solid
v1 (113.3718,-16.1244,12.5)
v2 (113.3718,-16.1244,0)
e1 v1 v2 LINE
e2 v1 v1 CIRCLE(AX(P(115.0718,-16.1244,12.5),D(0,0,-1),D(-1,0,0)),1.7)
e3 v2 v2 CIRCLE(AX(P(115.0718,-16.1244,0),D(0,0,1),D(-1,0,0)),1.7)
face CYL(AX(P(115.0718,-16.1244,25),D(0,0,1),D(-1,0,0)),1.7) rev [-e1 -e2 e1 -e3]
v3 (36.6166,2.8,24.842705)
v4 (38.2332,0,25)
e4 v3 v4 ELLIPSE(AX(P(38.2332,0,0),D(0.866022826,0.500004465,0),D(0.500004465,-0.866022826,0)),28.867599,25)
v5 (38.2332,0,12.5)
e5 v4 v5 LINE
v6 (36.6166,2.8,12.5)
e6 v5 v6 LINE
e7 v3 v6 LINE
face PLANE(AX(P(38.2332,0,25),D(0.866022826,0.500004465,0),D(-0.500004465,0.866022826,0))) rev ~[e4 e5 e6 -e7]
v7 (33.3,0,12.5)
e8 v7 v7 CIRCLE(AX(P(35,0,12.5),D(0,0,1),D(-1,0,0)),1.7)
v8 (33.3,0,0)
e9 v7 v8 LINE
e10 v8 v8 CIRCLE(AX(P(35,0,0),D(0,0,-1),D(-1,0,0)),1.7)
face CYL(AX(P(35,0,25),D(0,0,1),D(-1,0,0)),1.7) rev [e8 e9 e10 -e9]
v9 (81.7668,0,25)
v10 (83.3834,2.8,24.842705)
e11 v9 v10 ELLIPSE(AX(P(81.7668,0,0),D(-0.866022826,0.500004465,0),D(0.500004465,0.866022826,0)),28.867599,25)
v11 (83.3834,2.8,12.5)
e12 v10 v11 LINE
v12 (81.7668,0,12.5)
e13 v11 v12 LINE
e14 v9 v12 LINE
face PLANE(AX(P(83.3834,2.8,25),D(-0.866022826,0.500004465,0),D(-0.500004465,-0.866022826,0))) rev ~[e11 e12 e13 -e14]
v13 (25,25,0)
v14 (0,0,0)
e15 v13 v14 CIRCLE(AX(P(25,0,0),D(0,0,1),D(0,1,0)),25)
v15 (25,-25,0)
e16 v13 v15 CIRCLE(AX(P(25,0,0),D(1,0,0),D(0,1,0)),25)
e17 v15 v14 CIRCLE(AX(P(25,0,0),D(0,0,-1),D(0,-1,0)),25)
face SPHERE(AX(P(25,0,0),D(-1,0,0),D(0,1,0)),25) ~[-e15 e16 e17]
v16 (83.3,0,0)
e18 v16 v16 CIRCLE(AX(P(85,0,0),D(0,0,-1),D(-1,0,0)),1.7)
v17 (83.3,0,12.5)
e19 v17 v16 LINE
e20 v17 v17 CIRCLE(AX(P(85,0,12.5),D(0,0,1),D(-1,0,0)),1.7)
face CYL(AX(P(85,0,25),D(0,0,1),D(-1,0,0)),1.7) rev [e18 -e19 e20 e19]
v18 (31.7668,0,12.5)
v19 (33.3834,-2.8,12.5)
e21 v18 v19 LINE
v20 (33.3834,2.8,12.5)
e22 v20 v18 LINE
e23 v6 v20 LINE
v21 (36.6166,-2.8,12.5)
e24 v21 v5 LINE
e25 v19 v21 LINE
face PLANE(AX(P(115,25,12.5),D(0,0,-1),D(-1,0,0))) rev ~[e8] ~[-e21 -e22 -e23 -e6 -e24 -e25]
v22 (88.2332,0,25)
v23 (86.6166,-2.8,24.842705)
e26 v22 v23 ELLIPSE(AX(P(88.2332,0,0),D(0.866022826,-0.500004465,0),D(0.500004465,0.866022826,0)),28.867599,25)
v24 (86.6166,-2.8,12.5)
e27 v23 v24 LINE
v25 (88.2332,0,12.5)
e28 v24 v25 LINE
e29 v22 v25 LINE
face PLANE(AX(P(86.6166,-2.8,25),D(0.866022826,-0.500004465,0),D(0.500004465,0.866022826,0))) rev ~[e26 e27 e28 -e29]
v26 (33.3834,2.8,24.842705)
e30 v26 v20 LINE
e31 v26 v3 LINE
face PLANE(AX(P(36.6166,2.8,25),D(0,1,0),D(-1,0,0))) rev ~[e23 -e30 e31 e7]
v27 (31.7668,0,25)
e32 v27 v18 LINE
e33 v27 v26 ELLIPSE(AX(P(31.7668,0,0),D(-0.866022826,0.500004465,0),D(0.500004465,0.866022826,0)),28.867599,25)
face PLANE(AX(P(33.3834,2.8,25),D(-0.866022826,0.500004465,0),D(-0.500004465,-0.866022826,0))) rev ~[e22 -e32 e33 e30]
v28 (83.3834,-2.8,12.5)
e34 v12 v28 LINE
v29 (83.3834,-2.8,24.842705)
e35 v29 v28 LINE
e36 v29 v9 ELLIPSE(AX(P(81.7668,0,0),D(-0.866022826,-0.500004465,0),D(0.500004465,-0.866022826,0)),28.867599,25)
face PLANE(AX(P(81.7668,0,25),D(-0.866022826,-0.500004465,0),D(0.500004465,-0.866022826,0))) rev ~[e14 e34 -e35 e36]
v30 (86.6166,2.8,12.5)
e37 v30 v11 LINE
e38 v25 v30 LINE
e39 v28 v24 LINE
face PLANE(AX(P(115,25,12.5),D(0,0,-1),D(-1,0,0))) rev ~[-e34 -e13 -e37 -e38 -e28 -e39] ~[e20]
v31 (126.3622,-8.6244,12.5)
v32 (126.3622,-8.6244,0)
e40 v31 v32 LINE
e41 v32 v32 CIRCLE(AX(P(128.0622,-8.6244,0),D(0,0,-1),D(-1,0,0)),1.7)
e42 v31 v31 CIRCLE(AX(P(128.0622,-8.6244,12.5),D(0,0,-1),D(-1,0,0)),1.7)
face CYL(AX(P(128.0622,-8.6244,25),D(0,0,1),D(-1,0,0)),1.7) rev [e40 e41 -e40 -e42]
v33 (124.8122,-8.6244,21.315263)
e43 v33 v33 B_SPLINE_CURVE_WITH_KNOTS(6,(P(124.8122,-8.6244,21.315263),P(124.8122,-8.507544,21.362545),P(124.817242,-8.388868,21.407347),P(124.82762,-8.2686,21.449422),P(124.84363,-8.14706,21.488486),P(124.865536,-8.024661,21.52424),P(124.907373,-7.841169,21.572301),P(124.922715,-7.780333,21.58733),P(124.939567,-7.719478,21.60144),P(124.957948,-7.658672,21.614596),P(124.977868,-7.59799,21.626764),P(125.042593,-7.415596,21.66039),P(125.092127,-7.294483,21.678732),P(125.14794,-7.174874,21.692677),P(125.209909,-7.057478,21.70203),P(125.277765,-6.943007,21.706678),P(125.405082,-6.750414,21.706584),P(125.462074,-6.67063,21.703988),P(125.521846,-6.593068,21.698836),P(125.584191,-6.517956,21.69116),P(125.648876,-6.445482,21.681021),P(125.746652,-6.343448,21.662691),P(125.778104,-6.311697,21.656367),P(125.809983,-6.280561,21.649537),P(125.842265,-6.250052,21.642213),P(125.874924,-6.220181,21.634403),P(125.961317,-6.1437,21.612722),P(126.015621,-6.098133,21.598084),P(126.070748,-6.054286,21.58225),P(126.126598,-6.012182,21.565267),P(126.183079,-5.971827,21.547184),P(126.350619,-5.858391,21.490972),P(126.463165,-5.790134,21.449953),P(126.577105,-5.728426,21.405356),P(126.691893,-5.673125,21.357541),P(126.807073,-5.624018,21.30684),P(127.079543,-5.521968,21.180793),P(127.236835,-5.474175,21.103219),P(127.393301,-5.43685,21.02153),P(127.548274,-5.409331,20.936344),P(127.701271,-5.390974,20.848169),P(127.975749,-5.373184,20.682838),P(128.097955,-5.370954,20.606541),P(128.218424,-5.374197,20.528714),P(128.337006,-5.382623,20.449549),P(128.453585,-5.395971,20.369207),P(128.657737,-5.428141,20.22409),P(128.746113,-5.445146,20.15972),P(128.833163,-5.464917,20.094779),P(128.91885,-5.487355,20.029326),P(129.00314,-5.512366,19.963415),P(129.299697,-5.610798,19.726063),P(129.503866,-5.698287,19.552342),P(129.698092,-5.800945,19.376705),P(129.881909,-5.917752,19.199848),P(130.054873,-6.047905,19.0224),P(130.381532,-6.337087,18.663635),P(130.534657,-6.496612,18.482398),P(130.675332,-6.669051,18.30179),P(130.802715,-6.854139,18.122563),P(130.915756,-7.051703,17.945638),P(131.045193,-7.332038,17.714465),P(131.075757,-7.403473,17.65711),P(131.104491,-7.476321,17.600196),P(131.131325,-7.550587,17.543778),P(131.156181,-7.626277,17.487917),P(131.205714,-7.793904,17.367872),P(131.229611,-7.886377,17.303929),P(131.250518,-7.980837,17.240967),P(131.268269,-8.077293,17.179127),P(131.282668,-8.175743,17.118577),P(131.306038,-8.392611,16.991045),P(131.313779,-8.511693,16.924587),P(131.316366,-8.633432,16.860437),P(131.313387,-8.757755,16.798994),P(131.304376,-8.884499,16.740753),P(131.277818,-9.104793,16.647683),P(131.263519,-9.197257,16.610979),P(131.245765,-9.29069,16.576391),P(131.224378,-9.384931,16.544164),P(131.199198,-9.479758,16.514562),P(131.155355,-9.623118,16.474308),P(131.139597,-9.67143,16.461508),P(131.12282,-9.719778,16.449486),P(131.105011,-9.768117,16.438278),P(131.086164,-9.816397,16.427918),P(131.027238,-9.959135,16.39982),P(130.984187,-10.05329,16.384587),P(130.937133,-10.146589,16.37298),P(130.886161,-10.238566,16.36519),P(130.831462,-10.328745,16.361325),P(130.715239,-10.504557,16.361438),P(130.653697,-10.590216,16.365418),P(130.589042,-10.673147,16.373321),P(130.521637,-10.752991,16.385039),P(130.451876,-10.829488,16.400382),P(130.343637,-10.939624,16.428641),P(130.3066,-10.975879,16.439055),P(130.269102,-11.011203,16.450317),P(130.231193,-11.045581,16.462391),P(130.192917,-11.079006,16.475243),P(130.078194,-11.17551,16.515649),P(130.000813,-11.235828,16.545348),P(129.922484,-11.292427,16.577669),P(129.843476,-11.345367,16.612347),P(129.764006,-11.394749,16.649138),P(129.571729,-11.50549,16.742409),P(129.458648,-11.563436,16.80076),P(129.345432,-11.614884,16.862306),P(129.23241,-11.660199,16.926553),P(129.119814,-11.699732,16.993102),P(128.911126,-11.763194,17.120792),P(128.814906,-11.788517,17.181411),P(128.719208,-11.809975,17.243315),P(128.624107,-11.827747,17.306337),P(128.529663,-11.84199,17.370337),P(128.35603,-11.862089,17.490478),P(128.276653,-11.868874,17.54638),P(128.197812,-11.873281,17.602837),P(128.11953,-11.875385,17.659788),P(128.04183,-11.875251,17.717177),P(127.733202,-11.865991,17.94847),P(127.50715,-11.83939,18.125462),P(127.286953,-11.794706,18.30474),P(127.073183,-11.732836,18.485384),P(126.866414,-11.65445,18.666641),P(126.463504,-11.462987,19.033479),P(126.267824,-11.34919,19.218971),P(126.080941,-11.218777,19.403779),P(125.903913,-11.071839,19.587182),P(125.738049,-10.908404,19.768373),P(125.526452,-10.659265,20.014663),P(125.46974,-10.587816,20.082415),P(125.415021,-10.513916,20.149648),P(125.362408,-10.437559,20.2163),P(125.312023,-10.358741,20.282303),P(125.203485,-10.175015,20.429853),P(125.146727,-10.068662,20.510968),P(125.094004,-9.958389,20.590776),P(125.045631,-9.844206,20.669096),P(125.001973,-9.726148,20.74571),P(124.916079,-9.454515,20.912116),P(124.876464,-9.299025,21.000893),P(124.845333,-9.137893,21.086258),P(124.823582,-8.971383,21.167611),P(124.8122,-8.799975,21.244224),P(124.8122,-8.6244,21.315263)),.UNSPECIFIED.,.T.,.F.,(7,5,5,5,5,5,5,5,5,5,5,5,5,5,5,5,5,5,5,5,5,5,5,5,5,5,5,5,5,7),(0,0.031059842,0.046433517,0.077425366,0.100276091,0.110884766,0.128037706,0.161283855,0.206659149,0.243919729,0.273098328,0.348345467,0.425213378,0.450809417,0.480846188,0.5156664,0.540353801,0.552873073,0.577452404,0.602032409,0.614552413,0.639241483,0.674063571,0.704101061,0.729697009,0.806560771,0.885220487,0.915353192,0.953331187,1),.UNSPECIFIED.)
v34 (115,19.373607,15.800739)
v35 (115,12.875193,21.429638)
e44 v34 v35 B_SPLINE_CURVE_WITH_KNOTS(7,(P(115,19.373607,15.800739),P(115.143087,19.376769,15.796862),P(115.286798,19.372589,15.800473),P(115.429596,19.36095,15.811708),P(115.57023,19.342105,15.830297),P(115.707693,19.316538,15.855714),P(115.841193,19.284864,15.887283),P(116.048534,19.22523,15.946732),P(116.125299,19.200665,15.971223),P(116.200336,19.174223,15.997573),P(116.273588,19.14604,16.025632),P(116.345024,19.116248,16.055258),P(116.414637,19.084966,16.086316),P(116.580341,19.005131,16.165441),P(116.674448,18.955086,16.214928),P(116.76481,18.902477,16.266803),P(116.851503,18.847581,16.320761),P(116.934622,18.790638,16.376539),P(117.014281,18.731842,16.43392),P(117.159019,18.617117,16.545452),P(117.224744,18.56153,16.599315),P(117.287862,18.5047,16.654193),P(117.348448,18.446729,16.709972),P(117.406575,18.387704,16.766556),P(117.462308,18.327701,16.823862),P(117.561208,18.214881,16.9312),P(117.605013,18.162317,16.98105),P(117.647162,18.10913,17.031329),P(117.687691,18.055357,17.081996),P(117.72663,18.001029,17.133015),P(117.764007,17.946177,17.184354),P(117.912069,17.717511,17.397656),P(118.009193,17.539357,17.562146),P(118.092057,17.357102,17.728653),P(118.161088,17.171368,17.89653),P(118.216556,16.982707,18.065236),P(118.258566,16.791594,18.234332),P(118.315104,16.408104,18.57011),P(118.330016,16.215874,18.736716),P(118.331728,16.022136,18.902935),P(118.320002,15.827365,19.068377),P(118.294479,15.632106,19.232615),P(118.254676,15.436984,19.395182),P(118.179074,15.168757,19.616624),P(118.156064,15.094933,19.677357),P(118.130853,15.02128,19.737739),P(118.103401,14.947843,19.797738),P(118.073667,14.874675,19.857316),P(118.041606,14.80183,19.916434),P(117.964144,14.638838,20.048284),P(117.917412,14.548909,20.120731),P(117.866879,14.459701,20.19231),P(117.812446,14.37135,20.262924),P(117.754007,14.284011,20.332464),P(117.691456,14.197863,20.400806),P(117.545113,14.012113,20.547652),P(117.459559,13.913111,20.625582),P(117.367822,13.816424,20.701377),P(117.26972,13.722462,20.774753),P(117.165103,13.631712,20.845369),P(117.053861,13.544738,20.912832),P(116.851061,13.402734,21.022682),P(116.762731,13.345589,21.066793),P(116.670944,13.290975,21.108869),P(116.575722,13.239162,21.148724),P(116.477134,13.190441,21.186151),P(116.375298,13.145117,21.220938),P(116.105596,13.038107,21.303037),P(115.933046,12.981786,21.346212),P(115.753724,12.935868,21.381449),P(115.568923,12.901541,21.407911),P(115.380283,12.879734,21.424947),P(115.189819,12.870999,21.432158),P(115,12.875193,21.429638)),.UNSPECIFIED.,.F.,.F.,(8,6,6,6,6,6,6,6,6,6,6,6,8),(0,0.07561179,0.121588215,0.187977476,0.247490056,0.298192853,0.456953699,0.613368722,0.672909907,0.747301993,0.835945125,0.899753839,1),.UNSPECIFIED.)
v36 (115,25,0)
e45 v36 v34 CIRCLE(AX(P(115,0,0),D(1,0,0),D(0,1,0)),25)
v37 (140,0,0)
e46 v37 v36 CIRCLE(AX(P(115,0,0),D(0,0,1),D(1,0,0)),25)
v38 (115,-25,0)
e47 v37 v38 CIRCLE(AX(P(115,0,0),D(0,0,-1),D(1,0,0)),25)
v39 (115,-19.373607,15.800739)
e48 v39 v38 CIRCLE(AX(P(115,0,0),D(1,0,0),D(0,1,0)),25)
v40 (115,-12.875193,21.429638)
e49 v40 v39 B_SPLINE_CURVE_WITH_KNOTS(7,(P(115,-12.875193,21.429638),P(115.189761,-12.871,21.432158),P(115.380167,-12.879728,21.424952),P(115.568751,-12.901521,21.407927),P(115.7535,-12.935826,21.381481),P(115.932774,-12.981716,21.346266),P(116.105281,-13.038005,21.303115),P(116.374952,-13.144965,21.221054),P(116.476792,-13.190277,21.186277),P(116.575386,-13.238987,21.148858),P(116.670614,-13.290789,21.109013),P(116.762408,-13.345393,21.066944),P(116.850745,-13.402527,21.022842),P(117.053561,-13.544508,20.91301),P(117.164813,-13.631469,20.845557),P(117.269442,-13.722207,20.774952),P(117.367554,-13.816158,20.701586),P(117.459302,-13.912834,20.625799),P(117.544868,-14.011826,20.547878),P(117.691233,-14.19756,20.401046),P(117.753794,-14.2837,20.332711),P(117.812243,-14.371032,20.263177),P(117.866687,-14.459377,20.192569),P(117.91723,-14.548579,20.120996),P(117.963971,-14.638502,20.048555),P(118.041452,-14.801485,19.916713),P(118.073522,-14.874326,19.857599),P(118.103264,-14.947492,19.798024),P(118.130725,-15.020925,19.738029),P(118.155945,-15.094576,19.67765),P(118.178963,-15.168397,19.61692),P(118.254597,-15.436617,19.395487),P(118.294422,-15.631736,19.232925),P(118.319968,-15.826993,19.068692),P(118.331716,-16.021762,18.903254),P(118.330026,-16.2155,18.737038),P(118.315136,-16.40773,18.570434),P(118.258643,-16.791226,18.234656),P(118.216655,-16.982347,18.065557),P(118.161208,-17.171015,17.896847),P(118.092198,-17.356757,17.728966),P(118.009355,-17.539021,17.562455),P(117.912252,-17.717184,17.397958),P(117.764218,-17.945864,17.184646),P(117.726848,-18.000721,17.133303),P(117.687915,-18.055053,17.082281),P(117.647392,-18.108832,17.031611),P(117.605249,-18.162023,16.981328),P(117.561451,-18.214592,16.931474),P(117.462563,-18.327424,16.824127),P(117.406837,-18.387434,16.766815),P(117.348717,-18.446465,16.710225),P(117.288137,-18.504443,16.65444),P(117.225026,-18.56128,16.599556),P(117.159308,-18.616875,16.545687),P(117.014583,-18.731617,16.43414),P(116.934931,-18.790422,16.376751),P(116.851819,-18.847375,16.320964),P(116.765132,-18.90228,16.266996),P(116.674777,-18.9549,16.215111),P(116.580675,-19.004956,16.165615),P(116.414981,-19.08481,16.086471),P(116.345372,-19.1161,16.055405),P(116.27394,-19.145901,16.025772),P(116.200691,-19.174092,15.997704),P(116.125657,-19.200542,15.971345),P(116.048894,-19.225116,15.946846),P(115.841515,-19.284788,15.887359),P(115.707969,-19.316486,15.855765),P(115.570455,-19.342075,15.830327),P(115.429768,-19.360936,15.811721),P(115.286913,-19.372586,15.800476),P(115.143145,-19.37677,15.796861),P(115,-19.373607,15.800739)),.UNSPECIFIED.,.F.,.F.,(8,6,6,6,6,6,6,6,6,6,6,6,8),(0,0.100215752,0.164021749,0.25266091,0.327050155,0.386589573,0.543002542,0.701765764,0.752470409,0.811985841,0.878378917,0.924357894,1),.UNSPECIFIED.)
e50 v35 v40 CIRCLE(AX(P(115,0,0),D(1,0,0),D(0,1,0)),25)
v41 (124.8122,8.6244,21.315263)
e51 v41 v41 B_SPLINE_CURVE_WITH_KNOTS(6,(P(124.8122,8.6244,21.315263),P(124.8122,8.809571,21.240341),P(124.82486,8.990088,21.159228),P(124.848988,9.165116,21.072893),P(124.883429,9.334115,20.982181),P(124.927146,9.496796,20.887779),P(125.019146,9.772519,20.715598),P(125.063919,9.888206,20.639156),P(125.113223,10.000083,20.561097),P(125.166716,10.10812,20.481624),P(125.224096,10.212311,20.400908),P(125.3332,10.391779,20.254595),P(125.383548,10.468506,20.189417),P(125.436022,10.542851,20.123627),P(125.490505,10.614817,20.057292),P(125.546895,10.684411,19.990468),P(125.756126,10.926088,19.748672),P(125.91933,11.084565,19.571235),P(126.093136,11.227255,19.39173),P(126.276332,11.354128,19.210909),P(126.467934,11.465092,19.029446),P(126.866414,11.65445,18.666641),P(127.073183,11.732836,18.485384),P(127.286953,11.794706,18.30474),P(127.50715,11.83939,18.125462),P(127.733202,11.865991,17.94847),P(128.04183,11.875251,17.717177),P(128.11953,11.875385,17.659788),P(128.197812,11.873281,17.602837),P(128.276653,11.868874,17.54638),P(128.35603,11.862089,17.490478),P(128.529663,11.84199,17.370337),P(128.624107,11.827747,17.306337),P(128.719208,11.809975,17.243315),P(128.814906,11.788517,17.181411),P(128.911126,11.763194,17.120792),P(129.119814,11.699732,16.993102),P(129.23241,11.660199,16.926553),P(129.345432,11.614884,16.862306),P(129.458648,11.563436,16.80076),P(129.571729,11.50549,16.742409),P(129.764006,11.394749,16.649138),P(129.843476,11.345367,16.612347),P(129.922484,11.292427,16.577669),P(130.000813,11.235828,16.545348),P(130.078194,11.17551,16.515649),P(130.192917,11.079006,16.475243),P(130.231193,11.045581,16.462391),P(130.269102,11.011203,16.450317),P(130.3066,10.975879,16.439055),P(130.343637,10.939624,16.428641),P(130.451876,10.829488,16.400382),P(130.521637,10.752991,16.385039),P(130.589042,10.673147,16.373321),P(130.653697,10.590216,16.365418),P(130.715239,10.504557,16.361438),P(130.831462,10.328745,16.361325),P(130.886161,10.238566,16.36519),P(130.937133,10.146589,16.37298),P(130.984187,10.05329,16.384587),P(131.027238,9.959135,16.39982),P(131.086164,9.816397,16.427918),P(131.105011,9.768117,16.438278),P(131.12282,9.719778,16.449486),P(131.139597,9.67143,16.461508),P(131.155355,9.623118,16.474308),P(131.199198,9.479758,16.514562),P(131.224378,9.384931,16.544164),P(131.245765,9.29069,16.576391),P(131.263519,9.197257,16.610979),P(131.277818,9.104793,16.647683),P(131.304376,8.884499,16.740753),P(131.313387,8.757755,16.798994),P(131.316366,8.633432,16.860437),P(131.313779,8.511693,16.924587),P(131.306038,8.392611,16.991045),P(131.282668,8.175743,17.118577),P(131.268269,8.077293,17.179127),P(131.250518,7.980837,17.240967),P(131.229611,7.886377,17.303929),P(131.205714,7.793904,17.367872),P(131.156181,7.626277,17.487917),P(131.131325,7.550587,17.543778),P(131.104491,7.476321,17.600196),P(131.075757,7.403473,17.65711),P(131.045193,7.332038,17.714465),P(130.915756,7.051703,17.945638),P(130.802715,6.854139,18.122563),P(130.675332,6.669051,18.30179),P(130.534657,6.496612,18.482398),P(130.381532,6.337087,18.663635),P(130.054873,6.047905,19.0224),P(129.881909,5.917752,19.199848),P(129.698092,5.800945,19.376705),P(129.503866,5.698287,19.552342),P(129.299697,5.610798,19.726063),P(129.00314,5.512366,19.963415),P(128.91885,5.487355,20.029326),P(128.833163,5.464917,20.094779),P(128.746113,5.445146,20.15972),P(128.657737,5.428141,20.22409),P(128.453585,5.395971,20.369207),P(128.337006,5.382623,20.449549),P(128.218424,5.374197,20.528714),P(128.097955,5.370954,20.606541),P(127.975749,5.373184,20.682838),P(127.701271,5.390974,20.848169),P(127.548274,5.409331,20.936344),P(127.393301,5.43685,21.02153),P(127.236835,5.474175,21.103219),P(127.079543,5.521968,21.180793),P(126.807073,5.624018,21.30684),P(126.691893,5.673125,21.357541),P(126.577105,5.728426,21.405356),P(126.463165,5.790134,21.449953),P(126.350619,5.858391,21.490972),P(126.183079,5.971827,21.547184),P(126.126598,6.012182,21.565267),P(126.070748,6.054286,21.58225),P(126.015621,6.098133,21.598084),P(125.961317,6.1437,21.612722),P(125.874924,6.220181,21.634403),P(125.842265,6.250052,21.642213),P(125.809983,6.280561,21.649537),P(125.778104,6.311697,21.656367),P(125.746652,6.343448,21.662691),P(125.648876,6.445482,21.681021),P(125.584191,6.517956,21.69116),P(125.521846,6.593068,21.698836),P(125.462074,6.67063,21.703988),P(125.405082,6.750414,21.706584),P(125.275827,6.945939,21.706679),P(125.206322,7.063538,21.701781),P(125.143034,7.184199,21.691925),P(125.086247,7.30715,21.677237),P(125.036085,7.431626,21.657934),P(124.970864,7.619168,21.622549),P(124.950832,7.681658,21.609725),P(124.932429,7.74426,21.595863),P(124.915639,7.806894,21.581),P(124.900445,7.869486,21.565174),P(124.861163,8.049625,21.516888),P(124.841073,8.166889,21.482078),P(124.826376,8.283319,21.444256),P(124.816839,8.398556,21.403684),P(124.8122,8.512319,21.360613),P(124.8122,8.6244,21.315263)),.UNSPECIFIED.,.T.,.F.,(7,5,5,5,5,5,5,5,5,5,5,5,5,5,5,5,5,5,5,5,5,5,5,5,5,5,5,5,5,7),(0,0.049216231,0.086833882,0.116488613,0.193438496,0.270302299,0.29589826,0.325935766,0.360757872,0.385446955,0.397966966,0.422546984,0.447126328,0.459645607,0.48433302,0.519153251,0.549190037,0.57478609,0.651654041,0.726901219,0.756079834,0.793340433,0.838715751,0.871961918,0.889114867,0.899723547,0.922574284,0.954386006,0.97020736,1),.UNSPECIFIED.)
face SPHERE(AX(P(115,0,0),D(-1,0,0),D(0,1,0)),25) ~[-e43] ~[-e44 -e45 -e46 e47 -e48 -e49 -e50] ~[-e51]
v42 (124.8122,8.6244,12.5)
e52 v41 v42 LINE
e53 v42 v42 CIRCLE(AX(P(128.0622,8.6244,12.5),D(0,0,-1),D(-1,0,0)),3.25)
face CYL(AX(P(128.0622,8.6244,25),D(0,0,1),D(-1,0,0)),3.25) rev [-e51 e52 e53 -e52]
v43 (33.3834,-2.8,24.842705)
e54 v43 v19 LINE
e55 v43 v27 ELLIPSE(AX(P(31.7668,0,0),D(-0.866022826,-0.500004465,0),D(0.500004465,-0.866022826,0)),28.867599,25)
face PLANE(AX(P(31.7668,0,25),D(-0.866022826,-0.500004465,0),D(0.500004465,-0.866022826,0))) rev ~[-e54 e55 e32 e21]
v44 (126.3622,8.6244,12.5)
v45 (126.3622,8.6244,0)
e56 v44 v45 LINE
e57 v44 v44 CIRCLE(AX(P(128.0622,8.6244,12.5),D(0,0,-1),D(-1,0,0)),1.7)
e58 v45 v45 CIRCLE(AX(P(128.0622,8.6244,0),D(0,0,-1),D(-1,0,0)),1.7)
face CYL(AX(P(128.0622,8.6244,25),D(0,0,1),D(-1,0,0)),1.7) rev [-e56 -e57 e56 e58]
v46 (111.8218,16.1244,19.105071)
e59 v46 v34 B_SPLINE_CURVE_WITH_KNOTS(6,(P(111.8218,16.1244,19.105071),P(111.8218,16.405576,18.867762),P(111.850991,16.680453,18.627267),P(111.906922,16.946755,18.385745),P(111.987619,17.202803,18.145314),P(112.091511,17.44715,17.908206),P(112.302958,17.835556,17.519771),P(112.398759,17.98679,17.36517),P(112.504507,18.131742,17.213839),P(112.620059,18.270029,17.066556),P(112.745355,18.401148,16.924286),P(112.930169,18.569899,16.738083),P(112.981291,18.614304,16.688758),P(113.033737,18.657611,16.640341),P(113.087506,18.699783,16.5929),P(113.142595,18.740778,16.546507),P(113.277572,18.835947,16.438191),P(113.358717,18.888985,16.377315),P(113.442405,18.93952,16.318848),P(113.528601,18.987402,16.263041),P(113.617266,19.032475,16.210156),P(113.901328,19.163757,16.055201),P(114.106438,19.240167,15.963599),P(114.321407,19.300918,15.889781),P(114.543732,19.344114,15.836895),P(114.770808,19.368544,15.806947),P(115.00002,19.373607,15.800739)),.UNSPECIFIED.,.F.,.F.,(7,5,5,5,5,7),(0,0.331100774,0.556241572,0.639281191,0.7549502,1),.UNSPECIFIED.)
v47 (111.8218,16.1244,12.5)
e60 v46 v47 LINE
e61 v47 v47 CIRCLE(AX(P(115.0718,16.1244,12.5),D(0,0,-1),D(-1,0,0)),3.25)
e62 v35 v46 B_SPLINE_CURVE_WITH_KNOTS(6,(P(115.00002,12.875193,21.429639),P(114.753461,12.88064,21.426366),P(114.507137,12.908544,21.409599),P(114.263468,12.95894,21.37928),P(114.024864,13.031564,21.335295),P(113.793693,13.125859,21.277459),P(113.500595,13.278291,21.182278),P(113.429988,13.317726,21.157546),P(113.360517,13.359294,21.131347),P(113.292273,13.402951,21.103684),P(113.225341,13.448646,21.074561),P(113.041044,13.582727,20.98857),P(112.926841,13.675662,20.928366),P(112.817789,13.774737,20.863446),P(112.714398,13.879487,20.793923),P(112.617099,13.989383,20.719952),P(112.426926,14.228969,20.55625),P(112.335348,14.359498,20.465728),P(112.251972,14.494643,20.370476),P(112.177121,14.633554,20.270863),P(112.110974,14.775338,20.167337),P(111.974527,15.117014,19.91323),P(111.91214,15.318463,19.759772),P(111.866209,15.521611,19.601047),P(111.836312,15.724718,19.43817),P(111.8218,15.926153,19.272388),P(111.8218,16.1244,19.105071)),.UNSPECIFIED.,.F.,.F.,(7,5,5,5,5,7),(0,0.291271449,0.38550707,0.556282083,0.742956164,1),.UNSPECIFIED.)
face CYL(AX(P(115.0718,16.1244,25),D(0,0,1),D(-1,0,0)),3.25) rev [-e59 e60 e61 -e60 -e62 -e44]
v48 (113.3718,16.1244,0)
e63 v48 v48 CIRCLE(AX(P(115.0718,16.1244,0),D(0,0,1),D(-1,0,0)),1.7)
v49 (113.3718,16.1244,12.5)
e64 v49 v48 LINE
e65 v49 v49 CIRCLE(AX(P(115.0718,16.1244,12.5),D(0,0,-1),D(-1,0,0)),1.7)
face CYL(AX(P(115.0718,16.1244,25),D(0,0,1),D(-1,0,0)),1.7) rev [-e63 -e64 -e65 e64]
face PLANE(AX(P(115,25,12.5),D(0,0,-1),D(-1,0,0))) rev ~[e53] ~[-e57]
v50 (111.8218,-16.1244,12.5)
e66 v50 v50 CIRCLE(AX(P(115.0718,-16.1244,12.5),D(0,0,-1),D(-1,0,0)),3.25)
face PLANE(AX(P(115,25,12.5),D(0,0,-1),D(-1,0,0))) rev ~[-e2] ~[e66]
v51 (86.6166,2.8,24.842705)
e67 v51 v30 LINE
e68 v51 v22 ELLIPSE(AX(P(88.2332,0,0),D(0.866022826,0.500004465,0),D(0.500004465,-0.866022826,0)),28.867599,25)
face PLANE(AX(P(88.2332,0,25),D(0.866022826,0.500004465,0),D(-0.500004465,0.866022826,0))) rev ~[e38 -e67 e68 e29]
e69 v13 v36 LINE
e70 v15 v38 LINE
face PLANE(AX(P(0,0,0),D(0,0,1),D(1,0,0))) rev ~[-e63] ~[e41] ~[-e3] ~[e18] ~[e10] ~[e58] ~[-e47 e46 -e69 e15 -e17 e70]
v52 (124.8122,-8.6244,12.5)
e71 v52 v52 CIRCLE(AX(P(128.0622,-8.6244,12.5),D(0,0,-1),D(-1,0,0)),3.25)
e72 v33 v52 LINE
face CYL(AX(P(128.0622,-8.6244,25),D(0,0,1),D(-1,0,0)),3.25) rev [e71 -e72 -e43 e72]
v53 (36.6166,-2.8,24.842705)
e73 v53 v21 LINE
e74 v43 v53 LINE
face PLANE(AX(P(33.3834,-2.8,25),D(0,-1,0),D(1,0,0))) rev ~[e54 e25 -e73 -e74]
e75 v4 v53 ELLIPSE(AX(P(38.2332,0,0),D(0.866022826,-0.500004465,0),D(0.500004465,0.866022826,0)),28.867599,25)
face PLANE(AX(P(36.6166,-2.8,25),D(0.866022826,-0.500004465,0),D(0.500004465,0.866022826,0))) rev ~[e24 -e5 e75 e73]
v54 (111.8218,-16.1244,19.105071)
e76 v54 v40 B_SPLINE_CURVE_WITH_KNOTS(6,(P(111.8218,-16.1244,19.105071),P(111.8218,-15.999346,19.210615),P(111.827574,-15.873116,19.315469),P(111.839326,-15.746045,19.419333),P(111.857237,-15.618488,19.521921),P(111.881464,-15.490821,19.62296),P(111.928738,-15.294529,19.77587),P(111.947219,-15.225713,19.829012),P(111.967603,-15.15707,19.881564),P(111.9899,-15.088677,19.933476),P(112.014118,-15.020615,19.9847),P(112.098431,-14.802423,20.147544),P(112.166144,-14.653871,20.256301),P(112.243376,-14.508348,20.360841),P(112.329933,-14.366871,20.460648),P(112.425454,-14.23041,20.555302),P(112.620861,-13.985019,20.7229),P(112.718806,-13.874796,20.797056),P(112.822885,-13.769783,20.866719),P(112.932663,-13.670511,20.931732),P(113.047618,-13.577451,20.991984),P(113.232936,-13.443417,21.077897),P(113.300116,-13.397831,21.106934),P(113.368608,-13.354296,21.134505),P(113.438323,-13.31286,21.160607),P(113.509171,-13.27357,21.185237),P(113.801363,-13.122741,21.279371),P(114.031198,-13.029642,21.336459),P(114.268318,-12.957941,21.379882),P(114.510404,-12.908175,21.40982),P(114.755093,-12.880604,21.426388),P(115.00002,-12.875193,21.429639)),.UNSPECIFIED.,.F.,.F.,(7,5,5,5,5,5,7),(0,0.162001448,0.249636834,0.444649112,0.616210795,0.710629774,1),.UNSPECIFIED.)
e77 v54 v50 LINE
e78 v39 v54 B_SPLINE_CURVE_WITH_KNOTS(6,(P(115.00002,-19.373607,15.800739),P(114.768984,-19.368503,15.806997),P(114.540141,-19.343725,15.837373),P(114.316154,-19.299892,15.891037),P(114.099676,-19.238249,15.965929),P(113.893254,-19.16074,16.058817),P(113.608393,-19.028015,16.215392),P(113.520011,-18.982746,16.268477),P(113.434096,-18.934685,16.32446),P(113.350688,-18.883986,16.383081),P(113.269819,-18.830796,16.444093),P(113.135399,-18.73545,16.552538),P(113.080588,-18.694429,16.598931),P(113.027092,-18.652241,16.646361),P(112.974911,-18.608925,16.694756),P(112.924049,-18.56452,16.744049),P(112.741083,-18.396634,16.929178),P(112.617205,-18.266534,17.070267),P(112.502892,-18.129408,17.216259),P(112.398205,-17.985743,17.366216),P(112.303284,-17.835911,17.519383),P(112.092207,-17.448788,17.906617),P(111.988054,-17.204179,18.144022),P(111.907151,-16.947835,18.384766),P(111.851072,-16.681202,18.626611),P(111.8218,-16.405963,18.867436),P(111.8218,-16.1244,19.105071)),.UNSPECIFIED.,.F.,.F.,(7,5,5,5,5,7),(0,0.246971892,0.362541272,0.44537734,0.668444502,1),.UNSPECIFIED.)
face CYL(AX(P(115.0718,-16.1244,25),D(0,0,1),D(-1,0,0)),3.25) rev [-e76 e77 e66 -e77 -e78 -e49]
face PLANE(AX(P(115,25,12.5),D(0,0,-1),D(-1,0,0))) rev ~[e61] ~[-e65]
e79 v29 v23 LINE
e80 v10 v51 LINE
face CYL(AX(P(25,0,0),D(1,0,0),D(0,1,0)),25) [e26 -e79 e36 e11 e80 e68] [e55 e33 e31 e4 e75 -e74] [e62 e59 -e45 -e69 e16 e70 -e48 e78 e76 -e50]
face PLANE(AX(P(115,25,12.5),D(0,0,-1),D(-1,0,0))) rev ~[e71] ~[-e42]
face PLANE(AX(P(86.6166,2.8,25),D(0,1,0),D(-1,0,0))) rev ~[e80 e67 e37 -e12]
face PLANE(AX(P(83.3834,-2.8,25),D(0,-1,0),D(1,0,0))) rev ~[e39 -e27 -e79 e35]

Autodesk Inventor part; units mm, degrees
ref_plane "Plan YZ" through (0, 0, 0) normal (1, 0, 0) x (0, 1, 0)
ref_plane "Plan XZ" through (0, 0, 0) normal (0, 1, 0) x (-1, 0, 0)
sketch "Esquisse1" plane through (0, 0, 0) normal (0, 0, 1) x (1, 0, 0)
  arc A0 (25, 25) -> (0, 0) centre (25, 0) ccw
  line L0 (25, 25) -> (115, 25)
  arc A1 (140, 0) -> (115, 25) centre (115, 0) ccw
  line L1 (0, 0) -> (140, 0)
  dimension "d0" = 90
  dimension "d1" = 25
revolve "Révolution1" add sketch "Esquisse1" angle 180 about axis through (0, 0, 0) along (1, 0, 0)
ref_plane "Plan de construction1" through (115, 25, 25) normal (0, 0, -1) x (-1, 0, 0)
sketch "Esquisse6" plane through (115, 25, 25) normal (0, 0, -1) x (-1, 0, 0)
  line L0 (76.7668, -25) -> (78.3834, -22.2)
  line L1 (78.3834, -22.2) -> (81.6166, -22.2)
  line L2 (81.6166, -22.2) -> (83.2332, -25)
  line L3 (83.2332, -25) -> (81.6166, -27.8)
  line L4 (81.6166, -27.8) -> (78.3834, -27.8)
  line L5 (78.3834, -27.8) -> (76.7668, -25)
  line L6 (90, 0) -> (90, -50) projected
  line L7 (26.7668, -25) -> (28.3834, -22.2)
  line L8 (28.3834, -22.2) -> (31.6166, -22.2)
  line L9 (31.6166, -22.2) -> (33.2332, -25)
  line L10 (33.2332, -25) -> (31.6166, -27.8)
  line L11 (31.6166, -27.8) -> (28.3834, -27.8)
  line L12 (28.3834, -27.8) -> (26.7668, -25)
  line L13 (30, -25) -> (26.7668, -25) construction
  line L14 (90, -25) -> (19.1163, -25) construction
  line L15 (80, -25) -> (76.7668, -25) construction
  point P0 (115, -25)
  dimension "d4" = 5.6
  dimension "d5" = 10
  dimension "d6" = 50
  dimension "d7" = 5.6
extrude "Extrusion1" cut sketch "Esquisse6" along normal blind 12.5
sketch "Esquisse7" plane through (115, 25, 25) normal (0, 0, -1) x (-1, 0, 0)
  circle A0 centre (80, -25) radius 3.2332 construction
  circle A1 centre (30, -25) radius 3.2332 construction
  circle A2 centre (80, -25) radius 1.7
  circle A3 centre (30, -25) radius 1.7
  point P0 (115, -25)
  point P1 (78.3834, -22.2)
  point P2 (28.3834, -22.2)
  point P3 (31.6166, -27.8)
  point P4 (28.3834, -27.8)
  point P5 (81.6166, -27.8)
  point P6 (78.3834, -27.8)
  dimension "d10" = 3.4
  dimension "d11" = 3.4
extrude "Extrusion2" cut sketch "Esquisse7" along normal blind 25
sketch "Esquisse8" plane through (115, 25, 25) normal (0, 0, -1) x (-1, 0, 0)
  line L0 (0.0645, -24.9628) -> (43.3013, 0) construction
  line L1 (43.3013, 0) -> (30.8013, 21.6506) construction
  line L2 (30.8013, 21.6506) -> (-34.1506, -15.8494) construction
  line L3 (-34.1506, -15.8494) -> (-21.6506, -37.5) construction
  line L4 (-21.6506, -37.5) -> (0.0645, -24.9628) construction
  arc A0 (0, 0) -> (0, -50) centre (0, -25) ccw projected
  line L5 (0, 0) -> (0, -50) projected
  line L6 (90, 0) -> (0, 0) projected
  line L7 (-0.0718, -8.8756) -> (-13.0622, -16.3756) construction
  circle A1 centre (-0.0718, -8.8756) radius 1.7
  circle A2 centre (-13.0622, -16.3756) radius 1.7
  line L8 (81.6277, 0) -> (81.6277, -25) construction
  line L9 (81.6277, -25) -> (81.6277, -50) construction
  line L10 (81.6277, -25) -> (44.865, -25) construction
  line L11 (0, -50) -> (90, -50) construction
  line L12 (-34.1506, -34.1506) -> (-21.6506, -12.5) construction
  line L13 (-21.6506, -12.5) -> (0.0645, -25.0372) construction
  arc A3 (0, 0) -> (0, -50) centre (0, -25) ccw
  line L14 (0, -50) -> (0, 0)
  line L15 (-0.0718, -41.1244) -> (-13.0622, -33.6244) construction
  circle A4 centre (-0.0718, -41.1244) radius 1.7
  circle A5 centre (-13.0622, -33.6244) radius 1.7
  point P0 (115, -25)
  dimension "d14" = 60
  dimension "d15" = 14
  dimension "d16" = 18
  dimension "d17" = 33
  dimension "d18" = 3.4
  dimension "d19" = 3.4
extrude "Extrusion3" cut sketch "Esquisse8" along normal blind 25 contours A1 L5 | L5 A1 | A4 L5 | L5 A4 | A2 | A5
sketch "Esquisse9" plane through (115, 25, 25) normal (0, 0, -1) x (-1, 0, 0)
  circle A0 centre (-0.0718, -8.8756) radius 3.25
  circle A1 centre (-13.0622, -16.3756) radius 3.25
  circle A2 centre (-0.0718, -8.8756) radius 1.7 projected
  circle A3 centre (-13.0622, -16.3756) radius 1.7 projected
  line L0 (65.6358, 0) -> (65.6358, -25) construction
  line L1 (65.6358, -25) -> (65.6358, -50) construction
  line L2 (65.6358, -25) -> (25.9635, -25) construction
  line L3 (90, 0) -> (0, 0) construction
  line L4 (0, -50) -> (90, -50) construction
  circle A4 centre (-0.0718, -41.1244) radius 3.25
  circle A5 centre (-13.0622, -33.6244) radius 3.25
  circle A6 centre (-0.0718, -41.1244) radius 1.7
  circle A7 centre (-13.0622, -33.6244) radius 1.7
  point P0 (115, -25)
  dimension "d22" = 6.5
  dimension "d23" = 6.5
extrude "Extrusion4" cut sketch "Esquisse9" along normal blind 12.5
equation "\"d7\" = d4"
equation "\"d11\" = d10"
equation "\"d19\" = d18"
equation "\"d23\" = d22"
properties part number "P1704_004" material "PLA"
